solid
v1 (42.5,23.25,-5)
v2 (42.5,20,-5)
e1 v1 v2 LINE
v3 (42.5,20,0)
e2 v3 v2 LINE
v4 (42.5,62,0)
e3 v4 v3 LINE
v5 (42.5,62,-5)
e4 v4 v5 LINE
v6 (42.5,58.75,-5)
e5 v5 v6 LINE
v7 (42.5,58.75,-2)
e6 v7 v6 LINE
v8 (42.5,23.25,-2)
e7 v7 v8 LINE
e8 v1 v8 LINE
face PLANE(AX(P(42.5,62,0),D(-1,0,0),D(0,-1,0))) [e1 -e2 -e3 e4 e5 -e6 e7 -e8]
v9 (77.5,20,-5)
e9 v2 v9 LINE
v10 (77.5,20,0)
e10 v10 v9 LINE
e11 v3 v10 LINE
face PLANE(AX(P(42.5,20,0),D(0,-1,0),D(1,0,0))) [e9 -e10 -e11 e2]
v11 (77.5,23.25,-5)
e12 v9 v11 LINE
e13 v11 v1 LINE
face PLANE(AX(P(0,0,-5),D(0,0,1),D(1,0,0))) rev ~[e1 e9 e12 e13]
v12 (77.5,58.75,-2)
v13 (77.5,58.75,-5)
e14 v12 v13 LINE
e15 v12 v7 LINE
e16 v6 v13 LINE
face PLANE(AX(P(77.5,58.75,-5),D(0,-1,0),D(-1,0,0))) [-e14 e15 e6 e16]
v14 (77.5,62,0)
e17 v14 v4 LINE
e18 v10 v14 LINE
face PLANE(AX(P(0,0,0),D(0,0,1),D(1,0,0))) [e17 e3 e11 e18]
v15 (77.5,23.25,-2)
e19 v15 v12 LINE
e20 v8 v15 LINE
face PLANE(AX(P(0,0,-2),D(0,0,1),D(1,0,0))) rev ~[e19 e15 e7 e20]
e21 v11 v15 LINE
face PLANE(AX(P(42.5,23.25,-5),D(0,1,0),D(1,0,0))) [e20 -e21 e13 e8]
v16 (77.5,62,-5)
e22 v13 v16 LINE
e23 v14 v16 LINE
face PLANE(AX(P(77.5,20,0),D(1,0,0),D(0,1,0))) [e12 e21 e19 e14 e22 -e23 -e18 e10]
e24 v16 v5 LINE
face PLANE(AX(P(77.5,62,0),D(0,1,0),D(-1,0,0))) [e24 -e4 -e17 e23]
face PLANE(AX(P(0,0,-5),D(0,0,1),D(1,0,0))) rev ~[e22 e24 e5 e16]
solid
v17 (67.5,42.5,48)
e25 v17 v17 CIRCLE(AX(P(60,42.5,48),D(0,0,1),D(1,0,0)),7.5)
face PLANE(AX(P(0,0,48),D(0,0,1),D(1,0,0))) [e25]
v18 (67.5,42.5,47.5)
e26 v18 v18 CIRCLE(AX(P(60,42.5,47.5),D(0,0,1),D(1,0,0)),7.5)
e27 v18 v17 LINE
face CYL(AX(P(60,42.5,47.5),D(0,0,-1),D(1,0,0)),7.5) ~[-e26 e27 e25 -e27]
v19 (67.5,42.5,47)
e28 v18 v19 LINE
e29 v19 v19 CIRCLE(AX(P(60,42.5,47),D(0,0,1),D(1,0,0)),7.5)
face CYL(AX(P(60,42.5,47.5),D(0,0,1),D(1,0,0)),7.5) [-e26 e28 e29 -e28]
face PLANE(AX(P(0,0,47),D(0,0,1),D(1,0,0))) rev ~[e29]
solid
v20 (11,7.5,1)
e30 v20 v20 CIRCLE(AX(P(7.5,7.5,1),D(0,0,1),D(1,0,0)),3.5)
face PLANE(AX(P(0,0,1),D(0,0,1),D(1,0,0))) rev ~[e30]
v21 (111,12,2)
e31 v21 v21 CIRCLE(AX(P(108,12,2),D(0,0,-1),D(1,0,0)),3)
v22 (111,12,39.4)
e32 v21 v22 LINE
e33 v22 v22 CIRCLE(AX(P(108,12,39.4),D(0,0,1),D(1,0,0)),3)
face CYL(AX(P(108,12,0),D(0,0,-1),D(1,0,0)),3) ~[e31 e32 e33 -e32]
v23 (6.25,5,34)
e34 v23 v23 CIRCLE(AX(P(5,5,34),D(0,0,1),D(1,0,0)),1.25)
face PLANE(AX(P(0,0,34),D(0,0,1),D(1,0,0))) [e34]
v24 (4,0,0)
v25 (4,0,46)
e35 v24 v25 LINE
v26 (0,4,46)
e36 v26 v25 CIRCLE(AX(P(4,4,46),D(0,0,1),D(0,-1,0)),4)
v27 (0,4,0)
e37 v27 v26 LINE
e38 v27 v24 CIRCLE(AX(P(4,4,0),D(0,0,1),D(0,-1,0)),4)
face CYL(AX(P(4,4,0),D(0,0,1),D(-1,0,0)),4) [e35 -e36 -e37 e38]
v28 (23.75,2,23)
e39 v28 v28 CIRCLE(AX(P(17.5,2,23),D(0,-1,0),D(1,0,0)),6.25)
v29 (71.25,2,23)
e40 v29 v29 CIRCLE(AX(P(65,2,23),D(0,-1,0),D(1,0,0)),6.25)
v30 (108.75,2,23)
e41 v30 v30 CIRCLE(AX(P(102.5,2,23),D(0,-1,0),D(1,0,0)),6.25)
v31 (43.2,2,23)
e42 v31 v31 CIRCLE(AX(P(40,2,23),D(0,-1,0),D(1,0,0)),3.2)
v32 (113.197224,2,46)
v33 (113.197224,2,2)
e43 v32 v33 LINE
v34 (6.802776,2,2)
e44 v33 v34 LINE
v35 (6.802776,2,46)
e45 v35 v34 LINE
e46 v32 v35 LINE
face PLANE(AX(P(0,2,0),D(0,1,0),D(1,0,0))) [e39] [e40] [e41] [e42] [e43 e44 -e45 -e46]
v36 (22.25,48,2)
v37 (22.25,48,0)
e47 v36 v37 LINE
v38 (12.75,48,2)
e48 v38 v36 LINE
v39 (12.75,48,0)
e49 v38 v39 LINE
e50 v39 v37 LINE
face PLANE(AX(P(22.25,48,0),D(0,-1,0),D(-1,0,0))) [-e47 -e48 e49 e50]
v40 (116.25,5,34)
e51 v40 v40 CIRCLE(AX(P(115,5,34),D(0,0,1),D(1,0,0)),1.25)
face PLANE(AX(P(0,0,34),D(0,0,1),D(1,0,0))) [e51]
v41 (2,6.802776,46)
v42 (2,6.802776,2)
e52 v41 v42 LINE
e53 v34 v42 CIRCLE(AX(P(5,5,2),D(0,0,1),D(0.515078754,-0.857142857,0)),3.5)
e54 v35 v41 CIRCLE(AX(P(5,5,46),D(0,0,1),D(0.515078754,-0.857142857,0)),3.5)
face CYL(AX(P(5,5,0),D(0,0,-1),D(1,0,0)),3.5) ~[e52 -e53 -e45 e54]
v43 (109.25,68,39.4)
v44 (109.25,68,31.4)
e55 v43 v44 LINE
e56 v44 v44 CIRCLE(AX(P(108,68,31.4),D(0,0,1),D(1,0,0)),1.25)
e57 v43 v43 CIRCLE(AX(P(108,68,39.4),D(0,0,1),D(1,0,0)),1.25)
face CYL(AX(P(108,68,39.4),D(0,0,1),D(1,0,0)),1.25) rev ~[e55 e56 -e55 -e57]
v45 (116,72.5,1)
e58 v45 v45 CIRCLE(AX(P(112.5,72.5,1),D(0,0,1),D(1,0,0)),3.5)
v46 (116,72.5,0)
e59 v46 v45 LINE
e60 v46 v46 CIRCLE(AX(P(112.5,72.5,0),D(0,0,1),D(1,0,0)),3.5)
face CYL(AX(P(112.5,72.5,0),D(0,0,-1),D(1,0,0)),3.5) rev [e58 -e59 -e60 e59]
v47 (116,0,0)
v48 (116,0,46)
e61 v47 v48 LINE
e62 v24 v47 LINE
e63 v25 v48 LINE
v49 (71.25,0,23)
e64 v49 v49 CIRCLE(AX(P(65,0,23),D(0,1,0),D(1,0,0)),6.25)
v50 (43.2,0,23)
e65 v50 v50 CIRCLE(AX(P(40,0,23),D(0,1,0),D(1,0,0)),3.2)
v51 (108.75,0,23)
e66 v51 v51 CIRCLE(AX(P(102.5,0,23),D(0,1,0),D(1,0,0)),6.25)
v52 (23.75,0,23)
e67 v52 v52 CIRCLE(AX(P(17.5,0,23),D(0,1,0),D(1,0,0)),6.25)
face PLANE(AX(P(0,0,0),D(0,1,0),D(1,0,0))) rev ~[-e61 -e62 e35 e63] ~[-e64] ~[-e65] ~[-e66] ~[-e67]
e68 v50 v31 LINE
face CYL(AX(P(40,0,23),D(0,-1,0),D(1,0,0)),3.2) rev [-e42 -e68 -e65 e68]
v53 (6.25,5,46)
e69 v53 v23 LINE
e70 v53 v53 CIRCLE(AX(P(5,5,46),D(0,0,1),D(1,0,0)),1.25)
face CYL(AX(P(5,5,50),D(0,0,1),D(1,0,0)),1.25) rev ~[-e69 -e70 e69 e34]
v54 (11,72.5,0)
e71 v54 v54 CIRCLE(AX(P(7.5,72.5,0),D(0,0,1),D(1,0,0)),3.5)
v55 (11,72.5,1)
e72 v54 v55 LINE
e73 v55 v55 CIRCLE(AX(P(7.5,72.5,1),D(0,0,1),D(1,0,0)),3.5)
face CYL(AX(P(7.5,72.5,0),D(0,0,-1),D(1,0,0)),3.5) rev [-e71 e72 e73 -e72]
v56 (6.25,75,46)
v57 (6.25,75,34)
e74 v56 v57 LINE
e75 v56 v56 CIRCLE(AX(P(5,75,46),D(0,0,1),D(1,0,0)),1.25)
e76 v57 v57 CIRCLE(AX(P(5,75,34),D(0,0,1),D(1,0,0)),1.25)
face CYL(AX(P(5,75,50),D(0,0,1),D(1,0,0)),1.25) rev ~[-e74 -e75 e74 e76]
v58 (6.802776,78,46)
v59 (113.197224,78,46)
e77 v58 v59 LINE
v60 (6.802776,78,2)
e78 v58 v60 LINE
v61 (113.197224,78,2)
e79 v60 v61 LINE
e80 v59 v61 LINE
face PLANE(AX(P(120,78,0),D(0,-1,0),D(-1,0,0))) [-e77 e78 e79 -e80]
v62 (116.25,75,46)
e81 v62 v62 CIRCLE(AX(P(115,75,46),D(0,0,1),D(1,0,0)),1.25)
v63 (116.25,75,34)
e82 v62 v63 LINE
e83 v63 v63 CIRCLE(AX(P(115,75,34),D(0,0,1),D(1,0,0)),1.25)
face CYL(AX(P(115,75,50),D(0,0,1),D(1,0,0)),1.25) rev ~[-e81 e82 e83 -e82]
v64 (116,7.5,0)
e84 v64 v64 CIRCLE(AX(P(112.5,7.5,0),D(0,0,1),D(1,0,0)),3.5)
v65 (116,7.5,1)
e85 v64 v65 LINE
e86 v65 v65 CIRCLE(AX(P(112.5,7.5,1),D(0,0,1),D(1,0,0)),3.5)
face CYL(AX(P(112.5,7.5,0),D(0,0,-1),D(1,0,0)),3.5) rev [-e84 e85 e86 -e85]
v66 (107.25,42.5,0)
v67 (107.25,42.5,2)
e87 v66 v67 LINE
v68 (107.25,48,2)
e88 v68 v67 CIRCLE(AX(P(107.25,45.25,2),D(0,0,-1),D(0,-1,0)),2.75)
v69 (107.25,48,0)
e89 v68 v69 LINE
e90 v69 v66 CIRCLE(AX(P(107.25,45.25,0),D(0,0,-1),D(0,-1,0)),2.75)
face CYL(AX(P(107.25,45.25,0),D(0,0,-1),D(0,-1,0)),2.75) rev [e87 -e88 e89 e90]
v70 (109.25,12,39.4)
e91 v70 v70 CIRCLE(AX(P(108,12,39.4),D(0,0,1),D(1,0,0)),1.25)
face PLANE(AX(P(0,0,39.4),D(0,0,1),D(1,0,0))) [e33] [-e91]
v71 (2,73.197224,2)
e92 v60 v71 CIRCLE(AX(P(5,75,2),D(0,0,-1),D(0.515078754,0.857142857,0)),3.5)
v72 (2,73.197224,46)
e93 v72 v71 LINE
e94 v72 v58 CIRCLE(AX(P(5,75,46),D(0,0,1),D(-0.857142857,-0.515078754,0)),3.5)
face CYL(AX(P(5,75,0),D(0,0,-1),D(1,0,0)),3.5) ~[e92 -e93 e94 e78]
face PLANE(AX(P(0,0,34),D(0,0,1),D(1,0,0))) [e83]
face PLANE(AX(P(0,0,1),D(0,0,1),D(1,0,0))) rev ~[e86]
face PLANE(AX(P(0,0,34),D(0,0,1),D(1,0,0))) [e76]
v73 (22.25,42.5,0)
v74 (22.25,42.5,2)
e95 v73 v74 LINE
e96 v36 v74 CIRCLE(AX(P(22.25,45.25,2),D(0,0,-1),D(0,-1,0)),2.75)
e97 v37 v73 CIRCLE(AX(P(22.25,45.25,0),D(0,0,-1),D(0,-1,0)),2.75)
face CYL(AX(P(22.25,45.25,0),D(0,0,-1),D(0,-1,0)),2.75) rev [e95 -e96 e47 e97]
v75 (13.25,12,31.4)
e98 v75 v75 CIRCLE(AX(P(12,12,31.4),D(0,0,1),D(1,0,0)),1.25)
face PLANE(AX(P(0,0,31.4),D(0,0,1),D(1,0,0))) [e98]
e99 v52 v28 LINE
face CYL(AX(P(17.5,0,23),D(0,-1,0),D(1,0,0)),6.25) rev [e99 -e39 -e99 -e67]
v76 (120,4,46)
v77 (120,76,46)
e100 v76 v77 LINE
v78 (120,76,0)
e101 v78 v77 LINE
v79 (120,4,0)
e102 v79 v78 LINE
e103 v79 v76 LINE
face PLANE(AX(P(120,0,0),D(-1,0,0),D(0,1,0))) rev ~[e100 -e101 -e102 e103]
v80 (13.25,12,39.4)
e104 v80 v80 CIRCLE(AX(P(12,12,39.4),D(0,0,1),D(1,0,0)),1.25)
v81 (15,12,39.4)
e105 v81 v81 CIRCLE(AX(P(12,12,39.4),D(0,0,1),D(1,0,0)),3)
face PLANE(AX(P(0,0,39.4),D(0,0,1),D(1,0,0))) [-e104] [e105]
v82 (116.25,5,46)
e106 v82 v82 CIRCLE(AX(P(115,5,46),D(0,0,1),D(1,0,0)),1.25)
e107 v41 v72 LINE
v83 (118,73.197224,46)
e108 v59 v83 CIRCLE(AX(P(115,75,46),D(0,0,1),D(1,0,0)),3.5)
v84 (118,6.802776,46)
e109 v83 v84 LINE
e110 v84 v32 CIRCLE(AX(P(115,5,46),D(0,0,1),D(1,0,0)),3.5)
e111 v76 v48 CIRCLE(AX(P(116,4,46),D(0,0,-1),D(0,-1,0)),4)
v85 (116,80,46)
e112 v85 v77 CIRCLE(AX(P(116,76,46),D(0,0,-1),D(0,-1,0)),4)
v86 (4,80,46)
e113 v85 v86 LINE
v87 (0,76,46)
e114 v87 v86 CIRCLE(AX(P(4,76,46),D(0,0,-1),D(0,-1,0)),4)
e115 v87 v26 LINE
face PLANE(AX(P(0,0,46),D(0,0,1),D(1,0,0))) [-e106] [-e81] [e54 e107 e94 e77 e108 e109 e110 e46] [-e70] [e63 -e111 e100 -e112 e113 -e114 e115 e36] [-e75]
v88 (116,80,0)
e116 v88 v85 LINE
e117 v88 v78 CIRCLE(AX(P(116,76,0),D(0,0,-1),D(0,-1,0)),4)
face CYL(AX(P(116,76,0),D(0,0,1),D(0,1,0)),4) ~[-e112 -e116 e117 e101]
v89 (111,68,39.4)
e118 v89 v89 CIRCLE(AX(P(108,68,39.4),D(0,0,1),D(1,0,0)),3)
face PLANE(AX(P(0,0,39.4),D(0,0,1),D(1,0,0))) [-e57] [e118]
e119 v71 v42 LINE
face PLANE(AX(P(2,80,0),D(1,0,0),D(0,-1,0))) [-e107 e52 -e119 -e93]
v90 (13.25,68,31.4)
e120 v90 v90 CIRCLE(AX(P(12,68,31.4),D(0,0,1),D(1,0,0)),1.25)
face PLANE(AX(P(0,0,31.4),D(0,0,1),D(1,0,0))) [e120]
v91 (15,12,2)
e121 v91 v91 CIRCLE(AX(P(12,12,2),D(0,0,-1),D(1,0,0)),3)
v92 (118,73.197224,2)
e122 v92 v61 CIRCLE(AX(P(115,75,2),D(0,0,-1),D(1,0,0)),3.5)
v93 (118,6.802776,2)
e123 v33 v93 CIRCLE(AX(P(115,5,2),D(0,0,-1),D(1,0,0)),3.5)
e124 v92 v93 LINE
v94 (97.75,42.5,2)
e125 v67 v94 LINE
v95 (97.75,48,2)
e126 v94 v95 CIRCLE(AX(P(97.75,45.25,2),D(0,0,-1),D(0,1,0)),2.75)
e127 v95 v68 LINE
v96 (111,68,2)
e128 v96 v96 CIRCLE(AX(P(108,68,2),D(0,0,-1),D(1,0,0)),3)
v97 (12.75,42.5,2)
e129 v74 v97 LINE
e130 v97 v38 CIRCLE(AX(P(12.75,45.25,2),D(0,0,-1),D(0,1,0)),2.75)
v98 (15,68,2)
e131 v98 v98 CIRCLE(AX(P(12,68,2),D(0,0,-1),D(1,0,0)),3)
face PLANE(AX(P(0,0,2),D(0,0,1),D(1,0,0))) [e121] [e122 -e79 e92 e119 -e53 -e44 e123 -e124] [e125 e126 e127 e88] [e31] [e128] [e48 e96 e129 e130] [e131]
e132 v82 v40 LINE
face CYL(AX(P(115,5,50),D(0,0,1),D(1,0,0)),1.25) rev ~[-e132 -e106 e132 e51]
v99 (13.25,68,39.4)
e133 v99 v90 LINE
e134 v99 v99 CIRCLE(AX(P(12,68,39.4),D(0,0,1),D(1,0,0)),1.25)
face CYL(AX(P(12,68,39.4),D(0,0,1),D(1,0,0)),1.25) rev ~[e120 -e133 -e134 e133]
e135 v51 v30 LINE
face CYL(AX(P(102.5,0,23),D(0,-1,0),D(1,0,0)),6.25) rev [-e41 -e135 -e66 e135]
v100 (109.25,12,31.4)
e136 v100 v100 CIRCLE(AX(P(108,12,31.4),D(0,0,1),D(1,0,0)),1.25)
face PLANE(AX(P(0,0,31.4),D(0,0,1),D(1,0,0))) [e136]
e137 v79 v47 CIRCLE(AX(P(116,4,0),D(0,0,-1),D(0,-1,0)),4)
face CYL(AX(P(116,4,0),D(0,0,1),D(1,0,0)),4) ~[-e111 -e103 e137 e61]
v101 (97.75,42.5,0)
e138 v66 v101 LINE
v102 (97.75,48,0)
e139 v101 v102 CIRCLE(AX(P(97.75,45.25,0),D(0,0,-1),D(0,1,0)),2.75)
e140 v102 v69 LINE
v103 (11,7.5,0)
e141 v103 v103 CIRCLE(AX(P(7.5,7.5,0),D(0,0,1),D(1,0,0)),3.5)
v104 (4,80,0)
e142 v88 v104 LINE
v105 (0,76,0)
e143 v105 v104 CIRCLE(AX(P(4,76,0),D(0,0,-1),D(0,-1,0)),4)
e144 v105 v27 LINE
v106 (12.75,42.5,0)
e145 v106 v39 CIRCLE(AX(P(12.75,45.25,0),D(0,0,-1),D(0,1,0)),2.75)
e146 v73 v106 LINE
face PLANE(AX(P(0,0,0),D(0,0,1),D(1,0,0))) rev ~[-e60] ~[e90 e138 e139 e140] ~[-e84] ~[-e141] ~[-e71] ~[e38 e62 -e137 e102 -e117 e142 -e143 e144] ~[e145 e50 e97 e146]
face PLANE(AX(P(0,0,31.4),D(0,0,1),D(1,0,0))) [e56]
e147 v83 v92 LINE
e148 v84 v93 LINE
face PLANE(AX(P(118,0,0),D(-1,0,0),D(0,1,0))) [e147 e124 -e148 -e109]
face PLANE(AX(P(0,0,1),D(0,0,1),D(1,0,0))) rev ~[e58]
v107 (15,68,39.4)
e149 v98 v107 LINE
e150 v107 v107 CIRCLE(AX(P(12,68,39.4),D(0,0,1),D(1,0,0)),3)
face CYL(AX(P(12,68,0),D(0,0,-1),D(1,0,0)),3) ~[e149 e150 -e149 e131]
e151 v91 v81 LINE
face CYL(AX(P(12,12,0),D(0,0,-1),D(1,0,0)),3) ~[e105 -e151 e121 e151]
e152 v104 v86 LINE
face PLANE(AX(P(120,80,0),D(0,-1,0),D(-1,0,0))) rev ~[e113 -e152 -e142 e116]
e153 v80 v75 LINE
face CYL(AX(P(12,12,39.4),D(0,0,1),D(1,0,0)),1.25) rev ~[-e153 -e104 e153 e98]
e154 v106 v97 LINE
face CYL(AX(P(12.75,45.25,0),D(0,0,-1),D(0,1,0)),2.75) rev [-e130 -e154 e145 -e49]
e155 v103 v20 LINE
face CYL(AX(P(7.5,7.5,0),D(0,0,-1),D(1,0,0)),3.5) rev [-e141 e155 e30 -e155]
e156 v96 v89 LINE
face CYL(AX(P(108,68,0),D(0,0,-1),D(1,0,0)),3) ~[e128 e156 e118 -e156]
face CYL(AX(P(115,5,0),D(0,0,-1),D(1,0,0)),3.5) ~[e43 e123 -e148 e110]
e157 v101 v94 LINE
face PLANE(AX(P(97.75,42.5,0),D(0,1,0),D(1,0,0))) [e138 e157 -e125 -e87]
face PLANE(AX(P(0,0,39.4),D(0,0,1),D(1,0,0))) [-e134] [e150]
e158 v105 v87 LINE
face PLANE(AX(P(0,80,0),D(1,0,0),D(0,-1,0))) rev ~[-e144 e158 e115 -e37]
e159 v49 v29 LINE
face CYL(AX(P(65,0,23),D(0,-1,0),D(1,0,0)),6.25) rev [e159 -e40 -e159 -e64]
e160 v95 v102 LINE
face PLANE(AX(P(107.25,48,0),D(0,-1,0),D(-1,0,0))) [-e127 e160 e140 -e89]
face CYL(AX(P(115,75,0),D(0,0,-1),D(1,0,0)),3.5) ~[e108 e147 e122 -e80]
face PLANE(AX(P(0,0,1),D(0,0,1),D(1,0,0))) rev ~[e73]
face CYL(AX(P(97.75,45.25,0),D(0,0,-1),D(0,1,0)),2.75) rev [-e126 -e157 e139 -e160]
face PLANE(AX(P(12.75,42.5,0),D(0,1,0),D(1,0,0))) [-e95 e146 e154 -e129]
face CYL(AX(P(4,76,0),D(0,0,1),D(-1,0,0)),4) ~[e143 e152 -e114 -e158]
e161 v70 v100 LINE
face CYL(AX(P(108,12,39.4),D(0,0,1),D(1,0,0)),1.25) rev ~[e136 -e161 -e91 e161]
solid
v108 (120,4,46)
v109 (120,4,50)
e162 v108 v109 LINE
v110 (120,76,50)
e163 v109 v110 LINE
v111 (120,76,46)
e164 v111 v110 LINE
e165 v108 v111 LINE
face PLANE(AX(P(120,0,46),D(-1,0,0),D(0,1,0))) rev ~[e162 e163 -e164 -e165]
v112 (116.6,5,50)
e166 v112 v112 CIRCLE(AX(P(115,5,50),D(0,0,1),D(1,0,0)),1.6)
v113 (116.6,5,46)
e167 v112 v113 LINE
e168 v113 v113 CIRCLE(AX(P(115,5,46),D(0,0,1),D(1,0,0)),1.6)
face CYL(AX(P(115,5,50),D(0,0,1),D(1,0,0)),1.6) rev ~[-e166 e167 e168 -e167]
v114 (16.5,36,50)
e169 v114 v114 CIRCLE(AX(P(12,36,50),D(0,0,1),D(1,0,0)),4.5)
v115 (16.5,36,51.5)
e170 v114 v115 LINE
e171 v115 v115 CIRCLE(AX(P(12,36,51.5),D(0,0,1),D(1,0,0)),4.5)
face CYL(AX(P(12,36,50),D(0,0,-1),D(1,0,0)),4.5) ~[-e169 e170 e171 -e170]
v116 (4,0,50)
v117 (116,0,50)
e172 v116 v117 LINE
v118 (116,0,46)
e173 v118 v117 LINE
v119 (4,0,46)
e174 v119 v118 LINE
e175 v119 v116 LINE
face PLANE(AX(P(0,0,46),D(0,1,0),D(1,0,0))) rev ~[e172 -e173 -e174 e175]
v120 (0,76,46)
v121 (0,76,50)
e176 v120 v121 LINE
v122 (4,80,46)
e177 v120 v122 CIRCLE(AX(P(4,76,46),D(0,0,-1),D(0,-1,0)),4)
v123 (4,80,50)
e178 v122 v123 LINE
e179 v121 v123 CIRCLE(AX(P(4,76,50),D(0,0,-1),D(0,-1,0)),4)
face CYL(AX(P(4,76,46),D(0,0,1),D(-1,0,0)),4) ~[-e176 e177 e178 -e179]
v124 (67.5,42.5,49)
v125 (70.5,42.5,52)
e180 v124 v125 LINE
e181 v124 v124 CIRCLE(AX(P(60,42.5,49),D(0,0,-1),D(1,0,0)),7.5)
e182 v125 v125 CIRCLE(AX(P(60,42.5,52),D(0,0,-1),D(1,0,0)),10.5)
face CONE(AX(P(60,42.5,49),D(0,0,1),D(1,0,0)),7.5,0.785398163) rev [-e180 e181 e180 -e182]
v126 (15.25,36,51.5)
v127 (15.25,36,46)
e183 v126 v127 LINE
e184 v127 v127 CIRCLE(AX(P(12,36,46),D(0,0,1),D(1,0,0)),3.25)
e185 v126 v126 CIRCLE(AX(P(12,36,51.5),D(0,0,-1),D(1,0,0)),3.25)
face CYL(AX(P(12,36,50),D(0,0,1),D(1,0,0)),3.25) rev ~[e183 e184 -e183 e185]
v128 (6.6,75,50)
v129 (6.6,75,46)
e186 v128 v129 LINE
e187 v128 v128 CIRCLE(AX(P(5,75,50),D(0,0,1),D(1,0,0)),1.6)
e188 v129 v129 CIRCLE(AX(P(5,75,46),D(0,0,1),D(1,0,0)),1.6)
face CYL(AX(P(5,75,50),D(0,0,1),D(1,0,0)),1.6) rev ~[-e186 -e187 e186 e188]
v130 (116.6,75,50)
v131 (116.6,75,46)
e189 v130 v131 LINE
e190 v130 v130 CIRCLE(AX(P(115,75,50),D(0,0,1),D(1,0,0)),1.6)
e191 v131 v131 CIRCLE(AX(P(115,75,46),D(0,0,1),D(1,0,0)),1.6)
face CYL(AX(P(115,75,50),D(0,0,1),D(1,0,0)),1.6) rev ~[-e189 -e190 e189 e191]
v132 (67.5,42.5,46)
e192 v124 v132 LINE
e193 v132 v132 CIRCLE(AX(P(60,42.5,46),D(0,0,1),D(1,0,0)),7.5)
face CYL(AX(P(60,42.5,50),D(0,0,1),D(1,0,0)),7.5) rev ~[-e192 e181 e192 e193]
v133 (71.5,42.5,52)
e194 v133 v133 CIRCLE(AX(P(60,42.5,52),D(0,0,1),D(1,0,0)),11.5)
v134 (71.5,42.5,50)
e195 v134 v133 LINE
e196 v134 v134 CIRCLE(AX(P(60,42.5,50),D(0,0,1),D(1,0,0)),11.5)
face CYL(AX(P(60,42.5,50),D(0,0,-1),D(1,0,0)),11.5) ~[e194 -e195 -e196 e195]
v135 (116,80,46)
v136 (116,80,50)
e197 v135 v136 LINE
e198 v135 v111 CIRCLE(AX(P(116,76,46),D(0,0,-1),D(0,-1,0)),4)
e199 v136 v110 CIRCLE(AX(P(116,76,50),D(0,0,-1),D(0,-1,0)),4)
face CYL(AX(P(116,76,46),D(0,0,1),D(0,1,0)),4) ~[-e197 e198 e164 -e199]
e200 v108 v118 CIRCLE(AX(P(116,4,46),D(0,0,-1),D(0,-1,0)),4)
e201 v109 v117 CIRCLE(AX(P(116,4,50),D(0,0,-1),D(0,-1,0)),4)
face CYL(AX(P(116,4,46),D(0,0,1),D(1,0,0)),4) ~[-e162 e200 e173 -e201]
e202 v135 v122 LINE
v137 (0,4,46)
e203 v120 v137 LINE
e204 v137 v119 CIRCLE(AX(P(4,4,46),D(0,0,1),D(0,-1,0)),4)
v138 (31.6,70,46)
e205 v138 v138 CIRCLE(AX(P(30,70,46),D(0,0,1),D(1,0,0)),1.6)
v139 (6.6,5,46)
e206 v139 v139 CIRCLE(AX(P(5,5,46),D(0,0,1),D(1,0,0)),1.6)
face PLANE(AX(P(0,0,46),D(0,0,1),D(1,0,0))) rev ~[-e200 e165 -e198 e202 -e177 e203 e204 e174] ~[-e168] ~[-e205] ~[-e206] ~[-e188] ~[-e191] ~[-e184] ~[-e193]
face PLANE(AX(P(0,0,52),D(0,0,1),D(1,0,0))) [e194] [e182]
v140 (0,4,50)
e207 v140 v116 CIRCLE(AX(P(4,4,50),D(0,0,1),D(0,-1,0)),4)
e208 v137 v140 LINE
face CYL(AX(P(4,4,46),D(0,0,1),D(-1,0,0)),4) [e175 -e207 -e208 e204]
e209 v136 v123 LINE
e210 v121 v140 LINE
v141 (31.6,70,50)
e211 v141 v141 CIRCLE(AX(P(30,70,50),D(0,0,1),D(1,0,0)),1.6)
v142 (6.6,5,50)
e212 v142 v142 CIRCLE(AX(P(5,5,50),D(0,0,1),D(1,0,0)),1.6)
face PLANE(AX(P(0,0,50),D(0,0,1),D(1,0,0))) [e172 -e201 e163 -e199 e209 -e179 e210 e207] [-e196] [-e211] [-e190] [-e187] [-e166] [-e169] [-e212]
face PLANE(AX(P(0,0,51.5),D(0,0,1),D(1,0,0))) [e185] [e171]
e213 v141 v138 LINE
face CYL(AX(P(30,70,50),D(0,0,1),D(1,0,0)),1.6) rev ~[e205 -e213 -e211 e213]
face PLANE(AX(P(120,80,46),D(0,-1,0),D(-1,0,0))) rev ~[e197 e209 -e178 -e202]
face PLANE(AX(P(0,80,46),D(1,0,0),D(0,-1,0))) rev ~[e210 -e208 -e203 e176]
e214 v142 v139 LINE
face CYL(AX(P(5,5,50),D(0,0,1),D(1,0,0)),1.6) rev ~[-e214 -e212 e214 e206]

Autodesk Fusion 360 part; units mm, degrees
sketch "Çizim53" plane through (0, 0, 0) normal (0, 0, 1) x (1, 0, 0)
  line L0 (0, 0) -> (120, 0)
  line L1 (120, 0) -> (120, 80)
  line L2 (120, 80) -> (0, 80)
  line L3 (0, 80) -> (0, 0)
extrude "Ekstrüzyon53" add sketch "Çizim53" along normal blind 46 makes body 1
fillet "Kavis7" radius 4 4 edges at (0, 80, 23) (120, 80, 23) (120, 0, 23) (0, 0, 23) on bodies 1
shell "Kabuk4" thickness 2 removed faces 1 at (78.6667, 26.6667, 46) on bodies 1
sketch "Çizim54" plane through (0, 0, 0) normal (0, 0, 1) x (1, 0, 0)
  circle A0 centre (5, 5) radius 3.5
  circle A1 centre (115, 5) radius 3.5
  circle A2 centre (5, 75) radius 3.5
  circle A3 centre (115, 75) radius 3.5
extrude "Ekstrüzyon54" add sketch "Çizim54" along normal blind 46 bodies 1
sketch "Çizim55" plane through (0, 0, 0) normal (0, 0, 1) x (1, 0, 0)
  circle A0 centre (12, 12) radius 3
  circle A1 centre (108, 12) radius 3
  circle A2 centre (12, 68) radius 3
  circle A3 centre (108, 68) radius 3
extrude "Ekstrüzyon55" add sketch "Çizim55" along normal blind 39.4 bodies 1
ref_plane "WorkPlane15" through (0, 0, 39.4) normal (0, 0, 1) x (1, 0, 0)
sketch "Çizim56" plane through (0, 0, 39.4) normal (0, 0, 1) x (1, 0, 0)
  circle A0 centre (12, 12) radius 1.25
  circle A1 centre (108, 12) radius 1.25
  circle A2 centre (12, 68) radius 1.25
  circle A3 centre (108, 68) radius 1.25
extrude "Ekstrüzyon56" cut sketch "Çizim56" against normal blind 8 bodies 1
ref_plane "WorkPlane16" through (0, 0, 46) normal (0, 0, 1) x (1, 0, 0)
sketch "Çizim57" plane through (0, 0, 46) normal (0, 0, 1) x (1, 0, 0)
  line L0 (0, 0) -> (120, 0)
  line L1 (120, 0) -> (120, 80)
  line L2 (120, 80) -> (0, 80)
  line L3 (0, 80) -> (0, 0)
extrude "Ekstrüzyon57" add sketch "Çizim57" along normal blind 4 separate body makes body 2
fillet "Kavis8" radius 4 4 edges at (0, 80, 48) (120, 80, 48) (120, 0, 48) (0, 0, 48) on bodies 2
ref_plane "WorkPlane17" through (0, 0, 50) normal (0, 0, 1) x (1, 0, 0)
sketch "Çizim58" plane through (0, 0, 50) normal (0, 0, 1) x (1, 0, 0)
  circle A0 centre (60, 42.5) radius 11.5
extrude "Ekstrüzyon58" add sketch "Çizim58" along normal blind 2 bodies 2
sketch "Çizim59" plane through (0, 0, 50) normal (0, 0, 1) x (1, 0, 0)
  circle A0 centre (60, 42.5) radius 7.5
extrude "Ekstrüzyon59" cut sketch "Çizim59" along normal mid plane 16 bodies 2
chamfer "Pah4" distance 3 angle 45 1 edges at (53.0075, 45.2121, 52) on bodies 2
sketch "Çizim60" plane through (0, 0, 50) normal (0, 0, 1) x (1, 0, 0)
  circle A0 centre (12, 36) radius 4.5
extrude "Ekstrüzyon60" add sketch "Çizim60" along normal blind 1.5 bodies 2
sketch "Çizim61" plane through (0, 0, 50) normal (0, 0, 1) x (1, 0, 0)
  circle A0 centre (12, 36) radius 3.25
extrude "Ekstrüzyon61" cut sketch "Çizim61" along normal mid plane 16 bodies 2
sketch "Çizim62" plane through (0, 0, 50) normal (0, 0, 1) x (1, 0, 0)
  circle A0 centre (30, 70) radius 1.6
extrude "Ekstrüzyon62" cut sketch "Çizim62" along normal mid plane 16 bodies 2
sketch "Çizim63" plane through (0, 0, 50) normal (0, 0, 1) x (1, 0, 0)
  circle A0 centre (5, 5) radius 1.6
  circle A1 centre (115, 5) radius 1.6
  circle A2 centre (5, 75) radius 1.6
  circle A3 centre (115, 75) radius 1.6
extrude "Ekstrüzyon63" cut sketch "Çizim63" along normal mid plane 16 bodies 2
sketch "Çizim64" plane through (0, 0, 50) normal (0, 0, 1) x (1, 0, 0)
  circle A0 centre (5, 5) radius 1.25
  circle A1 centre (115, 5) radius 1.25
  circle A2 centre (5, 75) radius 1.25
  circle A3 centre (115, 75) radius 1.25
extrude "Ekstrüzyon64" cut sketch "Çizim64" against normal blind 16 bodies 1
ref_plane "WorkPlane18" through (0, 0, 47.5) normal (0, 0, 1) x (1, 0, 0)
sketch "Çizim65" plane through (0, 0, 47.5) normal (0, 0, 1) x (1, 0, 0)
  circle A0 centre (60, 42.5) radius 7.5
extrude "Ekstrüzyon65" add sketch "Çizim65" along normal mid plane 1 separate body makes body 3
sketch "Çizim66" plane through (0, 0, 0) normal (0, 1, 0) x (1, 0, 0)
  circle A0 centre (17.5, -23) radius 6.25
  circle A1 centre (40, -23) radius 3.2
  circle A2 centre (65, -23) radius 6.25
  circle A3 centre (102.5, -23) radius 6.25
extrude "Ekstrüzyon66" cut sketch "Çizim66" along normal mid plane 6 bodies 1
sketch "Çizim67" plane through (0, 0, 0) normal (0, 0, 1) x (1, 0, 0)
  line L0 (12.75, 42.5) -> (22.25, 42.5)
  arc A0 (22.25, 42.5) -> (22.25, 48) centre (22.25, 45.25) ccw
  line L1 (22.25, 48) -> (12.75, 48)
  arc A1 (12.75, 48) -> (12.75, 42.5) centre (12.75, 45.25) ccw
  line L2 (97.75, 42.5) -> (107.25, 42.5)
  arc A2 (107.25, 42.5) -> (107.25, 48) centre (107.25, 45.25) ccw
  line L3 (107.25, 48) -> (97.75, 48)
  arc A3 (97.75, 48) -> (97.75, 42.5) centre (97.75, 45.25) ccw
extrude "Ekstrüzyon67" cut sketch "Çizim67" along normal mid plane 6 bodies 1
sketch "Çizim68" plane through (0, 0, 0) normal (0, 0, 1) x (1, 0, 0)
  circle A0 centre (7.5, 7.5) radius 3.5
  circle A1 centre (112.5, 7.5) radius 3.5
  circle A2 centre (7.5, 72.5) radius 3.5
  circle A3 centre (112.5, 72.5) radius 3.5
extrude "Ekstrüzyon68" cut sketch "Çizim68" along normal mid plane 2 bodies 1
sketch "Çizim69" plane through (0, 0, 0) normal (0, 0, 1) x (1, 0, 0)
  line L0 (42.5, 20) -> (77.5, 20)
  line L1 (77.5, 20) -> (77.5, 62)
  line L2 (77.5, 62) -> (42.5, 62)
  line L3 (42.5, 62) -> (42.5, 20)
extrude "Ekstrüzyon69" add sketch "Çizim69" against normal blind 5 separate body makes body 4
ref_plane "WorkPlane19" through (0, 0, -5) normal (0, 0, 1) x (1, 0, 0)
sketch "Çizim70" plane through (0, 0, -5) normal (0, 0, 1) x (1, 0, 0)
  line L0 (42.5, 23.25) -> (77.5, 23.25)
  line L1 (77.5, 23.25) -> (77.5, 58.75)
  line L2 (77.5, 58.75) -> (42.5, 58.75)
  line L3 (42.5, 58.75) -> (42.5, 23.25)
extrude "Ekstrüzyon70" cut sketch "Çizim70" along normal mid plane 6 bodies 4
equation "d162 = -( 8 mm )"
equation "d185 = -( 16 mm )"
equation "d197 = -( 5 mm )"
